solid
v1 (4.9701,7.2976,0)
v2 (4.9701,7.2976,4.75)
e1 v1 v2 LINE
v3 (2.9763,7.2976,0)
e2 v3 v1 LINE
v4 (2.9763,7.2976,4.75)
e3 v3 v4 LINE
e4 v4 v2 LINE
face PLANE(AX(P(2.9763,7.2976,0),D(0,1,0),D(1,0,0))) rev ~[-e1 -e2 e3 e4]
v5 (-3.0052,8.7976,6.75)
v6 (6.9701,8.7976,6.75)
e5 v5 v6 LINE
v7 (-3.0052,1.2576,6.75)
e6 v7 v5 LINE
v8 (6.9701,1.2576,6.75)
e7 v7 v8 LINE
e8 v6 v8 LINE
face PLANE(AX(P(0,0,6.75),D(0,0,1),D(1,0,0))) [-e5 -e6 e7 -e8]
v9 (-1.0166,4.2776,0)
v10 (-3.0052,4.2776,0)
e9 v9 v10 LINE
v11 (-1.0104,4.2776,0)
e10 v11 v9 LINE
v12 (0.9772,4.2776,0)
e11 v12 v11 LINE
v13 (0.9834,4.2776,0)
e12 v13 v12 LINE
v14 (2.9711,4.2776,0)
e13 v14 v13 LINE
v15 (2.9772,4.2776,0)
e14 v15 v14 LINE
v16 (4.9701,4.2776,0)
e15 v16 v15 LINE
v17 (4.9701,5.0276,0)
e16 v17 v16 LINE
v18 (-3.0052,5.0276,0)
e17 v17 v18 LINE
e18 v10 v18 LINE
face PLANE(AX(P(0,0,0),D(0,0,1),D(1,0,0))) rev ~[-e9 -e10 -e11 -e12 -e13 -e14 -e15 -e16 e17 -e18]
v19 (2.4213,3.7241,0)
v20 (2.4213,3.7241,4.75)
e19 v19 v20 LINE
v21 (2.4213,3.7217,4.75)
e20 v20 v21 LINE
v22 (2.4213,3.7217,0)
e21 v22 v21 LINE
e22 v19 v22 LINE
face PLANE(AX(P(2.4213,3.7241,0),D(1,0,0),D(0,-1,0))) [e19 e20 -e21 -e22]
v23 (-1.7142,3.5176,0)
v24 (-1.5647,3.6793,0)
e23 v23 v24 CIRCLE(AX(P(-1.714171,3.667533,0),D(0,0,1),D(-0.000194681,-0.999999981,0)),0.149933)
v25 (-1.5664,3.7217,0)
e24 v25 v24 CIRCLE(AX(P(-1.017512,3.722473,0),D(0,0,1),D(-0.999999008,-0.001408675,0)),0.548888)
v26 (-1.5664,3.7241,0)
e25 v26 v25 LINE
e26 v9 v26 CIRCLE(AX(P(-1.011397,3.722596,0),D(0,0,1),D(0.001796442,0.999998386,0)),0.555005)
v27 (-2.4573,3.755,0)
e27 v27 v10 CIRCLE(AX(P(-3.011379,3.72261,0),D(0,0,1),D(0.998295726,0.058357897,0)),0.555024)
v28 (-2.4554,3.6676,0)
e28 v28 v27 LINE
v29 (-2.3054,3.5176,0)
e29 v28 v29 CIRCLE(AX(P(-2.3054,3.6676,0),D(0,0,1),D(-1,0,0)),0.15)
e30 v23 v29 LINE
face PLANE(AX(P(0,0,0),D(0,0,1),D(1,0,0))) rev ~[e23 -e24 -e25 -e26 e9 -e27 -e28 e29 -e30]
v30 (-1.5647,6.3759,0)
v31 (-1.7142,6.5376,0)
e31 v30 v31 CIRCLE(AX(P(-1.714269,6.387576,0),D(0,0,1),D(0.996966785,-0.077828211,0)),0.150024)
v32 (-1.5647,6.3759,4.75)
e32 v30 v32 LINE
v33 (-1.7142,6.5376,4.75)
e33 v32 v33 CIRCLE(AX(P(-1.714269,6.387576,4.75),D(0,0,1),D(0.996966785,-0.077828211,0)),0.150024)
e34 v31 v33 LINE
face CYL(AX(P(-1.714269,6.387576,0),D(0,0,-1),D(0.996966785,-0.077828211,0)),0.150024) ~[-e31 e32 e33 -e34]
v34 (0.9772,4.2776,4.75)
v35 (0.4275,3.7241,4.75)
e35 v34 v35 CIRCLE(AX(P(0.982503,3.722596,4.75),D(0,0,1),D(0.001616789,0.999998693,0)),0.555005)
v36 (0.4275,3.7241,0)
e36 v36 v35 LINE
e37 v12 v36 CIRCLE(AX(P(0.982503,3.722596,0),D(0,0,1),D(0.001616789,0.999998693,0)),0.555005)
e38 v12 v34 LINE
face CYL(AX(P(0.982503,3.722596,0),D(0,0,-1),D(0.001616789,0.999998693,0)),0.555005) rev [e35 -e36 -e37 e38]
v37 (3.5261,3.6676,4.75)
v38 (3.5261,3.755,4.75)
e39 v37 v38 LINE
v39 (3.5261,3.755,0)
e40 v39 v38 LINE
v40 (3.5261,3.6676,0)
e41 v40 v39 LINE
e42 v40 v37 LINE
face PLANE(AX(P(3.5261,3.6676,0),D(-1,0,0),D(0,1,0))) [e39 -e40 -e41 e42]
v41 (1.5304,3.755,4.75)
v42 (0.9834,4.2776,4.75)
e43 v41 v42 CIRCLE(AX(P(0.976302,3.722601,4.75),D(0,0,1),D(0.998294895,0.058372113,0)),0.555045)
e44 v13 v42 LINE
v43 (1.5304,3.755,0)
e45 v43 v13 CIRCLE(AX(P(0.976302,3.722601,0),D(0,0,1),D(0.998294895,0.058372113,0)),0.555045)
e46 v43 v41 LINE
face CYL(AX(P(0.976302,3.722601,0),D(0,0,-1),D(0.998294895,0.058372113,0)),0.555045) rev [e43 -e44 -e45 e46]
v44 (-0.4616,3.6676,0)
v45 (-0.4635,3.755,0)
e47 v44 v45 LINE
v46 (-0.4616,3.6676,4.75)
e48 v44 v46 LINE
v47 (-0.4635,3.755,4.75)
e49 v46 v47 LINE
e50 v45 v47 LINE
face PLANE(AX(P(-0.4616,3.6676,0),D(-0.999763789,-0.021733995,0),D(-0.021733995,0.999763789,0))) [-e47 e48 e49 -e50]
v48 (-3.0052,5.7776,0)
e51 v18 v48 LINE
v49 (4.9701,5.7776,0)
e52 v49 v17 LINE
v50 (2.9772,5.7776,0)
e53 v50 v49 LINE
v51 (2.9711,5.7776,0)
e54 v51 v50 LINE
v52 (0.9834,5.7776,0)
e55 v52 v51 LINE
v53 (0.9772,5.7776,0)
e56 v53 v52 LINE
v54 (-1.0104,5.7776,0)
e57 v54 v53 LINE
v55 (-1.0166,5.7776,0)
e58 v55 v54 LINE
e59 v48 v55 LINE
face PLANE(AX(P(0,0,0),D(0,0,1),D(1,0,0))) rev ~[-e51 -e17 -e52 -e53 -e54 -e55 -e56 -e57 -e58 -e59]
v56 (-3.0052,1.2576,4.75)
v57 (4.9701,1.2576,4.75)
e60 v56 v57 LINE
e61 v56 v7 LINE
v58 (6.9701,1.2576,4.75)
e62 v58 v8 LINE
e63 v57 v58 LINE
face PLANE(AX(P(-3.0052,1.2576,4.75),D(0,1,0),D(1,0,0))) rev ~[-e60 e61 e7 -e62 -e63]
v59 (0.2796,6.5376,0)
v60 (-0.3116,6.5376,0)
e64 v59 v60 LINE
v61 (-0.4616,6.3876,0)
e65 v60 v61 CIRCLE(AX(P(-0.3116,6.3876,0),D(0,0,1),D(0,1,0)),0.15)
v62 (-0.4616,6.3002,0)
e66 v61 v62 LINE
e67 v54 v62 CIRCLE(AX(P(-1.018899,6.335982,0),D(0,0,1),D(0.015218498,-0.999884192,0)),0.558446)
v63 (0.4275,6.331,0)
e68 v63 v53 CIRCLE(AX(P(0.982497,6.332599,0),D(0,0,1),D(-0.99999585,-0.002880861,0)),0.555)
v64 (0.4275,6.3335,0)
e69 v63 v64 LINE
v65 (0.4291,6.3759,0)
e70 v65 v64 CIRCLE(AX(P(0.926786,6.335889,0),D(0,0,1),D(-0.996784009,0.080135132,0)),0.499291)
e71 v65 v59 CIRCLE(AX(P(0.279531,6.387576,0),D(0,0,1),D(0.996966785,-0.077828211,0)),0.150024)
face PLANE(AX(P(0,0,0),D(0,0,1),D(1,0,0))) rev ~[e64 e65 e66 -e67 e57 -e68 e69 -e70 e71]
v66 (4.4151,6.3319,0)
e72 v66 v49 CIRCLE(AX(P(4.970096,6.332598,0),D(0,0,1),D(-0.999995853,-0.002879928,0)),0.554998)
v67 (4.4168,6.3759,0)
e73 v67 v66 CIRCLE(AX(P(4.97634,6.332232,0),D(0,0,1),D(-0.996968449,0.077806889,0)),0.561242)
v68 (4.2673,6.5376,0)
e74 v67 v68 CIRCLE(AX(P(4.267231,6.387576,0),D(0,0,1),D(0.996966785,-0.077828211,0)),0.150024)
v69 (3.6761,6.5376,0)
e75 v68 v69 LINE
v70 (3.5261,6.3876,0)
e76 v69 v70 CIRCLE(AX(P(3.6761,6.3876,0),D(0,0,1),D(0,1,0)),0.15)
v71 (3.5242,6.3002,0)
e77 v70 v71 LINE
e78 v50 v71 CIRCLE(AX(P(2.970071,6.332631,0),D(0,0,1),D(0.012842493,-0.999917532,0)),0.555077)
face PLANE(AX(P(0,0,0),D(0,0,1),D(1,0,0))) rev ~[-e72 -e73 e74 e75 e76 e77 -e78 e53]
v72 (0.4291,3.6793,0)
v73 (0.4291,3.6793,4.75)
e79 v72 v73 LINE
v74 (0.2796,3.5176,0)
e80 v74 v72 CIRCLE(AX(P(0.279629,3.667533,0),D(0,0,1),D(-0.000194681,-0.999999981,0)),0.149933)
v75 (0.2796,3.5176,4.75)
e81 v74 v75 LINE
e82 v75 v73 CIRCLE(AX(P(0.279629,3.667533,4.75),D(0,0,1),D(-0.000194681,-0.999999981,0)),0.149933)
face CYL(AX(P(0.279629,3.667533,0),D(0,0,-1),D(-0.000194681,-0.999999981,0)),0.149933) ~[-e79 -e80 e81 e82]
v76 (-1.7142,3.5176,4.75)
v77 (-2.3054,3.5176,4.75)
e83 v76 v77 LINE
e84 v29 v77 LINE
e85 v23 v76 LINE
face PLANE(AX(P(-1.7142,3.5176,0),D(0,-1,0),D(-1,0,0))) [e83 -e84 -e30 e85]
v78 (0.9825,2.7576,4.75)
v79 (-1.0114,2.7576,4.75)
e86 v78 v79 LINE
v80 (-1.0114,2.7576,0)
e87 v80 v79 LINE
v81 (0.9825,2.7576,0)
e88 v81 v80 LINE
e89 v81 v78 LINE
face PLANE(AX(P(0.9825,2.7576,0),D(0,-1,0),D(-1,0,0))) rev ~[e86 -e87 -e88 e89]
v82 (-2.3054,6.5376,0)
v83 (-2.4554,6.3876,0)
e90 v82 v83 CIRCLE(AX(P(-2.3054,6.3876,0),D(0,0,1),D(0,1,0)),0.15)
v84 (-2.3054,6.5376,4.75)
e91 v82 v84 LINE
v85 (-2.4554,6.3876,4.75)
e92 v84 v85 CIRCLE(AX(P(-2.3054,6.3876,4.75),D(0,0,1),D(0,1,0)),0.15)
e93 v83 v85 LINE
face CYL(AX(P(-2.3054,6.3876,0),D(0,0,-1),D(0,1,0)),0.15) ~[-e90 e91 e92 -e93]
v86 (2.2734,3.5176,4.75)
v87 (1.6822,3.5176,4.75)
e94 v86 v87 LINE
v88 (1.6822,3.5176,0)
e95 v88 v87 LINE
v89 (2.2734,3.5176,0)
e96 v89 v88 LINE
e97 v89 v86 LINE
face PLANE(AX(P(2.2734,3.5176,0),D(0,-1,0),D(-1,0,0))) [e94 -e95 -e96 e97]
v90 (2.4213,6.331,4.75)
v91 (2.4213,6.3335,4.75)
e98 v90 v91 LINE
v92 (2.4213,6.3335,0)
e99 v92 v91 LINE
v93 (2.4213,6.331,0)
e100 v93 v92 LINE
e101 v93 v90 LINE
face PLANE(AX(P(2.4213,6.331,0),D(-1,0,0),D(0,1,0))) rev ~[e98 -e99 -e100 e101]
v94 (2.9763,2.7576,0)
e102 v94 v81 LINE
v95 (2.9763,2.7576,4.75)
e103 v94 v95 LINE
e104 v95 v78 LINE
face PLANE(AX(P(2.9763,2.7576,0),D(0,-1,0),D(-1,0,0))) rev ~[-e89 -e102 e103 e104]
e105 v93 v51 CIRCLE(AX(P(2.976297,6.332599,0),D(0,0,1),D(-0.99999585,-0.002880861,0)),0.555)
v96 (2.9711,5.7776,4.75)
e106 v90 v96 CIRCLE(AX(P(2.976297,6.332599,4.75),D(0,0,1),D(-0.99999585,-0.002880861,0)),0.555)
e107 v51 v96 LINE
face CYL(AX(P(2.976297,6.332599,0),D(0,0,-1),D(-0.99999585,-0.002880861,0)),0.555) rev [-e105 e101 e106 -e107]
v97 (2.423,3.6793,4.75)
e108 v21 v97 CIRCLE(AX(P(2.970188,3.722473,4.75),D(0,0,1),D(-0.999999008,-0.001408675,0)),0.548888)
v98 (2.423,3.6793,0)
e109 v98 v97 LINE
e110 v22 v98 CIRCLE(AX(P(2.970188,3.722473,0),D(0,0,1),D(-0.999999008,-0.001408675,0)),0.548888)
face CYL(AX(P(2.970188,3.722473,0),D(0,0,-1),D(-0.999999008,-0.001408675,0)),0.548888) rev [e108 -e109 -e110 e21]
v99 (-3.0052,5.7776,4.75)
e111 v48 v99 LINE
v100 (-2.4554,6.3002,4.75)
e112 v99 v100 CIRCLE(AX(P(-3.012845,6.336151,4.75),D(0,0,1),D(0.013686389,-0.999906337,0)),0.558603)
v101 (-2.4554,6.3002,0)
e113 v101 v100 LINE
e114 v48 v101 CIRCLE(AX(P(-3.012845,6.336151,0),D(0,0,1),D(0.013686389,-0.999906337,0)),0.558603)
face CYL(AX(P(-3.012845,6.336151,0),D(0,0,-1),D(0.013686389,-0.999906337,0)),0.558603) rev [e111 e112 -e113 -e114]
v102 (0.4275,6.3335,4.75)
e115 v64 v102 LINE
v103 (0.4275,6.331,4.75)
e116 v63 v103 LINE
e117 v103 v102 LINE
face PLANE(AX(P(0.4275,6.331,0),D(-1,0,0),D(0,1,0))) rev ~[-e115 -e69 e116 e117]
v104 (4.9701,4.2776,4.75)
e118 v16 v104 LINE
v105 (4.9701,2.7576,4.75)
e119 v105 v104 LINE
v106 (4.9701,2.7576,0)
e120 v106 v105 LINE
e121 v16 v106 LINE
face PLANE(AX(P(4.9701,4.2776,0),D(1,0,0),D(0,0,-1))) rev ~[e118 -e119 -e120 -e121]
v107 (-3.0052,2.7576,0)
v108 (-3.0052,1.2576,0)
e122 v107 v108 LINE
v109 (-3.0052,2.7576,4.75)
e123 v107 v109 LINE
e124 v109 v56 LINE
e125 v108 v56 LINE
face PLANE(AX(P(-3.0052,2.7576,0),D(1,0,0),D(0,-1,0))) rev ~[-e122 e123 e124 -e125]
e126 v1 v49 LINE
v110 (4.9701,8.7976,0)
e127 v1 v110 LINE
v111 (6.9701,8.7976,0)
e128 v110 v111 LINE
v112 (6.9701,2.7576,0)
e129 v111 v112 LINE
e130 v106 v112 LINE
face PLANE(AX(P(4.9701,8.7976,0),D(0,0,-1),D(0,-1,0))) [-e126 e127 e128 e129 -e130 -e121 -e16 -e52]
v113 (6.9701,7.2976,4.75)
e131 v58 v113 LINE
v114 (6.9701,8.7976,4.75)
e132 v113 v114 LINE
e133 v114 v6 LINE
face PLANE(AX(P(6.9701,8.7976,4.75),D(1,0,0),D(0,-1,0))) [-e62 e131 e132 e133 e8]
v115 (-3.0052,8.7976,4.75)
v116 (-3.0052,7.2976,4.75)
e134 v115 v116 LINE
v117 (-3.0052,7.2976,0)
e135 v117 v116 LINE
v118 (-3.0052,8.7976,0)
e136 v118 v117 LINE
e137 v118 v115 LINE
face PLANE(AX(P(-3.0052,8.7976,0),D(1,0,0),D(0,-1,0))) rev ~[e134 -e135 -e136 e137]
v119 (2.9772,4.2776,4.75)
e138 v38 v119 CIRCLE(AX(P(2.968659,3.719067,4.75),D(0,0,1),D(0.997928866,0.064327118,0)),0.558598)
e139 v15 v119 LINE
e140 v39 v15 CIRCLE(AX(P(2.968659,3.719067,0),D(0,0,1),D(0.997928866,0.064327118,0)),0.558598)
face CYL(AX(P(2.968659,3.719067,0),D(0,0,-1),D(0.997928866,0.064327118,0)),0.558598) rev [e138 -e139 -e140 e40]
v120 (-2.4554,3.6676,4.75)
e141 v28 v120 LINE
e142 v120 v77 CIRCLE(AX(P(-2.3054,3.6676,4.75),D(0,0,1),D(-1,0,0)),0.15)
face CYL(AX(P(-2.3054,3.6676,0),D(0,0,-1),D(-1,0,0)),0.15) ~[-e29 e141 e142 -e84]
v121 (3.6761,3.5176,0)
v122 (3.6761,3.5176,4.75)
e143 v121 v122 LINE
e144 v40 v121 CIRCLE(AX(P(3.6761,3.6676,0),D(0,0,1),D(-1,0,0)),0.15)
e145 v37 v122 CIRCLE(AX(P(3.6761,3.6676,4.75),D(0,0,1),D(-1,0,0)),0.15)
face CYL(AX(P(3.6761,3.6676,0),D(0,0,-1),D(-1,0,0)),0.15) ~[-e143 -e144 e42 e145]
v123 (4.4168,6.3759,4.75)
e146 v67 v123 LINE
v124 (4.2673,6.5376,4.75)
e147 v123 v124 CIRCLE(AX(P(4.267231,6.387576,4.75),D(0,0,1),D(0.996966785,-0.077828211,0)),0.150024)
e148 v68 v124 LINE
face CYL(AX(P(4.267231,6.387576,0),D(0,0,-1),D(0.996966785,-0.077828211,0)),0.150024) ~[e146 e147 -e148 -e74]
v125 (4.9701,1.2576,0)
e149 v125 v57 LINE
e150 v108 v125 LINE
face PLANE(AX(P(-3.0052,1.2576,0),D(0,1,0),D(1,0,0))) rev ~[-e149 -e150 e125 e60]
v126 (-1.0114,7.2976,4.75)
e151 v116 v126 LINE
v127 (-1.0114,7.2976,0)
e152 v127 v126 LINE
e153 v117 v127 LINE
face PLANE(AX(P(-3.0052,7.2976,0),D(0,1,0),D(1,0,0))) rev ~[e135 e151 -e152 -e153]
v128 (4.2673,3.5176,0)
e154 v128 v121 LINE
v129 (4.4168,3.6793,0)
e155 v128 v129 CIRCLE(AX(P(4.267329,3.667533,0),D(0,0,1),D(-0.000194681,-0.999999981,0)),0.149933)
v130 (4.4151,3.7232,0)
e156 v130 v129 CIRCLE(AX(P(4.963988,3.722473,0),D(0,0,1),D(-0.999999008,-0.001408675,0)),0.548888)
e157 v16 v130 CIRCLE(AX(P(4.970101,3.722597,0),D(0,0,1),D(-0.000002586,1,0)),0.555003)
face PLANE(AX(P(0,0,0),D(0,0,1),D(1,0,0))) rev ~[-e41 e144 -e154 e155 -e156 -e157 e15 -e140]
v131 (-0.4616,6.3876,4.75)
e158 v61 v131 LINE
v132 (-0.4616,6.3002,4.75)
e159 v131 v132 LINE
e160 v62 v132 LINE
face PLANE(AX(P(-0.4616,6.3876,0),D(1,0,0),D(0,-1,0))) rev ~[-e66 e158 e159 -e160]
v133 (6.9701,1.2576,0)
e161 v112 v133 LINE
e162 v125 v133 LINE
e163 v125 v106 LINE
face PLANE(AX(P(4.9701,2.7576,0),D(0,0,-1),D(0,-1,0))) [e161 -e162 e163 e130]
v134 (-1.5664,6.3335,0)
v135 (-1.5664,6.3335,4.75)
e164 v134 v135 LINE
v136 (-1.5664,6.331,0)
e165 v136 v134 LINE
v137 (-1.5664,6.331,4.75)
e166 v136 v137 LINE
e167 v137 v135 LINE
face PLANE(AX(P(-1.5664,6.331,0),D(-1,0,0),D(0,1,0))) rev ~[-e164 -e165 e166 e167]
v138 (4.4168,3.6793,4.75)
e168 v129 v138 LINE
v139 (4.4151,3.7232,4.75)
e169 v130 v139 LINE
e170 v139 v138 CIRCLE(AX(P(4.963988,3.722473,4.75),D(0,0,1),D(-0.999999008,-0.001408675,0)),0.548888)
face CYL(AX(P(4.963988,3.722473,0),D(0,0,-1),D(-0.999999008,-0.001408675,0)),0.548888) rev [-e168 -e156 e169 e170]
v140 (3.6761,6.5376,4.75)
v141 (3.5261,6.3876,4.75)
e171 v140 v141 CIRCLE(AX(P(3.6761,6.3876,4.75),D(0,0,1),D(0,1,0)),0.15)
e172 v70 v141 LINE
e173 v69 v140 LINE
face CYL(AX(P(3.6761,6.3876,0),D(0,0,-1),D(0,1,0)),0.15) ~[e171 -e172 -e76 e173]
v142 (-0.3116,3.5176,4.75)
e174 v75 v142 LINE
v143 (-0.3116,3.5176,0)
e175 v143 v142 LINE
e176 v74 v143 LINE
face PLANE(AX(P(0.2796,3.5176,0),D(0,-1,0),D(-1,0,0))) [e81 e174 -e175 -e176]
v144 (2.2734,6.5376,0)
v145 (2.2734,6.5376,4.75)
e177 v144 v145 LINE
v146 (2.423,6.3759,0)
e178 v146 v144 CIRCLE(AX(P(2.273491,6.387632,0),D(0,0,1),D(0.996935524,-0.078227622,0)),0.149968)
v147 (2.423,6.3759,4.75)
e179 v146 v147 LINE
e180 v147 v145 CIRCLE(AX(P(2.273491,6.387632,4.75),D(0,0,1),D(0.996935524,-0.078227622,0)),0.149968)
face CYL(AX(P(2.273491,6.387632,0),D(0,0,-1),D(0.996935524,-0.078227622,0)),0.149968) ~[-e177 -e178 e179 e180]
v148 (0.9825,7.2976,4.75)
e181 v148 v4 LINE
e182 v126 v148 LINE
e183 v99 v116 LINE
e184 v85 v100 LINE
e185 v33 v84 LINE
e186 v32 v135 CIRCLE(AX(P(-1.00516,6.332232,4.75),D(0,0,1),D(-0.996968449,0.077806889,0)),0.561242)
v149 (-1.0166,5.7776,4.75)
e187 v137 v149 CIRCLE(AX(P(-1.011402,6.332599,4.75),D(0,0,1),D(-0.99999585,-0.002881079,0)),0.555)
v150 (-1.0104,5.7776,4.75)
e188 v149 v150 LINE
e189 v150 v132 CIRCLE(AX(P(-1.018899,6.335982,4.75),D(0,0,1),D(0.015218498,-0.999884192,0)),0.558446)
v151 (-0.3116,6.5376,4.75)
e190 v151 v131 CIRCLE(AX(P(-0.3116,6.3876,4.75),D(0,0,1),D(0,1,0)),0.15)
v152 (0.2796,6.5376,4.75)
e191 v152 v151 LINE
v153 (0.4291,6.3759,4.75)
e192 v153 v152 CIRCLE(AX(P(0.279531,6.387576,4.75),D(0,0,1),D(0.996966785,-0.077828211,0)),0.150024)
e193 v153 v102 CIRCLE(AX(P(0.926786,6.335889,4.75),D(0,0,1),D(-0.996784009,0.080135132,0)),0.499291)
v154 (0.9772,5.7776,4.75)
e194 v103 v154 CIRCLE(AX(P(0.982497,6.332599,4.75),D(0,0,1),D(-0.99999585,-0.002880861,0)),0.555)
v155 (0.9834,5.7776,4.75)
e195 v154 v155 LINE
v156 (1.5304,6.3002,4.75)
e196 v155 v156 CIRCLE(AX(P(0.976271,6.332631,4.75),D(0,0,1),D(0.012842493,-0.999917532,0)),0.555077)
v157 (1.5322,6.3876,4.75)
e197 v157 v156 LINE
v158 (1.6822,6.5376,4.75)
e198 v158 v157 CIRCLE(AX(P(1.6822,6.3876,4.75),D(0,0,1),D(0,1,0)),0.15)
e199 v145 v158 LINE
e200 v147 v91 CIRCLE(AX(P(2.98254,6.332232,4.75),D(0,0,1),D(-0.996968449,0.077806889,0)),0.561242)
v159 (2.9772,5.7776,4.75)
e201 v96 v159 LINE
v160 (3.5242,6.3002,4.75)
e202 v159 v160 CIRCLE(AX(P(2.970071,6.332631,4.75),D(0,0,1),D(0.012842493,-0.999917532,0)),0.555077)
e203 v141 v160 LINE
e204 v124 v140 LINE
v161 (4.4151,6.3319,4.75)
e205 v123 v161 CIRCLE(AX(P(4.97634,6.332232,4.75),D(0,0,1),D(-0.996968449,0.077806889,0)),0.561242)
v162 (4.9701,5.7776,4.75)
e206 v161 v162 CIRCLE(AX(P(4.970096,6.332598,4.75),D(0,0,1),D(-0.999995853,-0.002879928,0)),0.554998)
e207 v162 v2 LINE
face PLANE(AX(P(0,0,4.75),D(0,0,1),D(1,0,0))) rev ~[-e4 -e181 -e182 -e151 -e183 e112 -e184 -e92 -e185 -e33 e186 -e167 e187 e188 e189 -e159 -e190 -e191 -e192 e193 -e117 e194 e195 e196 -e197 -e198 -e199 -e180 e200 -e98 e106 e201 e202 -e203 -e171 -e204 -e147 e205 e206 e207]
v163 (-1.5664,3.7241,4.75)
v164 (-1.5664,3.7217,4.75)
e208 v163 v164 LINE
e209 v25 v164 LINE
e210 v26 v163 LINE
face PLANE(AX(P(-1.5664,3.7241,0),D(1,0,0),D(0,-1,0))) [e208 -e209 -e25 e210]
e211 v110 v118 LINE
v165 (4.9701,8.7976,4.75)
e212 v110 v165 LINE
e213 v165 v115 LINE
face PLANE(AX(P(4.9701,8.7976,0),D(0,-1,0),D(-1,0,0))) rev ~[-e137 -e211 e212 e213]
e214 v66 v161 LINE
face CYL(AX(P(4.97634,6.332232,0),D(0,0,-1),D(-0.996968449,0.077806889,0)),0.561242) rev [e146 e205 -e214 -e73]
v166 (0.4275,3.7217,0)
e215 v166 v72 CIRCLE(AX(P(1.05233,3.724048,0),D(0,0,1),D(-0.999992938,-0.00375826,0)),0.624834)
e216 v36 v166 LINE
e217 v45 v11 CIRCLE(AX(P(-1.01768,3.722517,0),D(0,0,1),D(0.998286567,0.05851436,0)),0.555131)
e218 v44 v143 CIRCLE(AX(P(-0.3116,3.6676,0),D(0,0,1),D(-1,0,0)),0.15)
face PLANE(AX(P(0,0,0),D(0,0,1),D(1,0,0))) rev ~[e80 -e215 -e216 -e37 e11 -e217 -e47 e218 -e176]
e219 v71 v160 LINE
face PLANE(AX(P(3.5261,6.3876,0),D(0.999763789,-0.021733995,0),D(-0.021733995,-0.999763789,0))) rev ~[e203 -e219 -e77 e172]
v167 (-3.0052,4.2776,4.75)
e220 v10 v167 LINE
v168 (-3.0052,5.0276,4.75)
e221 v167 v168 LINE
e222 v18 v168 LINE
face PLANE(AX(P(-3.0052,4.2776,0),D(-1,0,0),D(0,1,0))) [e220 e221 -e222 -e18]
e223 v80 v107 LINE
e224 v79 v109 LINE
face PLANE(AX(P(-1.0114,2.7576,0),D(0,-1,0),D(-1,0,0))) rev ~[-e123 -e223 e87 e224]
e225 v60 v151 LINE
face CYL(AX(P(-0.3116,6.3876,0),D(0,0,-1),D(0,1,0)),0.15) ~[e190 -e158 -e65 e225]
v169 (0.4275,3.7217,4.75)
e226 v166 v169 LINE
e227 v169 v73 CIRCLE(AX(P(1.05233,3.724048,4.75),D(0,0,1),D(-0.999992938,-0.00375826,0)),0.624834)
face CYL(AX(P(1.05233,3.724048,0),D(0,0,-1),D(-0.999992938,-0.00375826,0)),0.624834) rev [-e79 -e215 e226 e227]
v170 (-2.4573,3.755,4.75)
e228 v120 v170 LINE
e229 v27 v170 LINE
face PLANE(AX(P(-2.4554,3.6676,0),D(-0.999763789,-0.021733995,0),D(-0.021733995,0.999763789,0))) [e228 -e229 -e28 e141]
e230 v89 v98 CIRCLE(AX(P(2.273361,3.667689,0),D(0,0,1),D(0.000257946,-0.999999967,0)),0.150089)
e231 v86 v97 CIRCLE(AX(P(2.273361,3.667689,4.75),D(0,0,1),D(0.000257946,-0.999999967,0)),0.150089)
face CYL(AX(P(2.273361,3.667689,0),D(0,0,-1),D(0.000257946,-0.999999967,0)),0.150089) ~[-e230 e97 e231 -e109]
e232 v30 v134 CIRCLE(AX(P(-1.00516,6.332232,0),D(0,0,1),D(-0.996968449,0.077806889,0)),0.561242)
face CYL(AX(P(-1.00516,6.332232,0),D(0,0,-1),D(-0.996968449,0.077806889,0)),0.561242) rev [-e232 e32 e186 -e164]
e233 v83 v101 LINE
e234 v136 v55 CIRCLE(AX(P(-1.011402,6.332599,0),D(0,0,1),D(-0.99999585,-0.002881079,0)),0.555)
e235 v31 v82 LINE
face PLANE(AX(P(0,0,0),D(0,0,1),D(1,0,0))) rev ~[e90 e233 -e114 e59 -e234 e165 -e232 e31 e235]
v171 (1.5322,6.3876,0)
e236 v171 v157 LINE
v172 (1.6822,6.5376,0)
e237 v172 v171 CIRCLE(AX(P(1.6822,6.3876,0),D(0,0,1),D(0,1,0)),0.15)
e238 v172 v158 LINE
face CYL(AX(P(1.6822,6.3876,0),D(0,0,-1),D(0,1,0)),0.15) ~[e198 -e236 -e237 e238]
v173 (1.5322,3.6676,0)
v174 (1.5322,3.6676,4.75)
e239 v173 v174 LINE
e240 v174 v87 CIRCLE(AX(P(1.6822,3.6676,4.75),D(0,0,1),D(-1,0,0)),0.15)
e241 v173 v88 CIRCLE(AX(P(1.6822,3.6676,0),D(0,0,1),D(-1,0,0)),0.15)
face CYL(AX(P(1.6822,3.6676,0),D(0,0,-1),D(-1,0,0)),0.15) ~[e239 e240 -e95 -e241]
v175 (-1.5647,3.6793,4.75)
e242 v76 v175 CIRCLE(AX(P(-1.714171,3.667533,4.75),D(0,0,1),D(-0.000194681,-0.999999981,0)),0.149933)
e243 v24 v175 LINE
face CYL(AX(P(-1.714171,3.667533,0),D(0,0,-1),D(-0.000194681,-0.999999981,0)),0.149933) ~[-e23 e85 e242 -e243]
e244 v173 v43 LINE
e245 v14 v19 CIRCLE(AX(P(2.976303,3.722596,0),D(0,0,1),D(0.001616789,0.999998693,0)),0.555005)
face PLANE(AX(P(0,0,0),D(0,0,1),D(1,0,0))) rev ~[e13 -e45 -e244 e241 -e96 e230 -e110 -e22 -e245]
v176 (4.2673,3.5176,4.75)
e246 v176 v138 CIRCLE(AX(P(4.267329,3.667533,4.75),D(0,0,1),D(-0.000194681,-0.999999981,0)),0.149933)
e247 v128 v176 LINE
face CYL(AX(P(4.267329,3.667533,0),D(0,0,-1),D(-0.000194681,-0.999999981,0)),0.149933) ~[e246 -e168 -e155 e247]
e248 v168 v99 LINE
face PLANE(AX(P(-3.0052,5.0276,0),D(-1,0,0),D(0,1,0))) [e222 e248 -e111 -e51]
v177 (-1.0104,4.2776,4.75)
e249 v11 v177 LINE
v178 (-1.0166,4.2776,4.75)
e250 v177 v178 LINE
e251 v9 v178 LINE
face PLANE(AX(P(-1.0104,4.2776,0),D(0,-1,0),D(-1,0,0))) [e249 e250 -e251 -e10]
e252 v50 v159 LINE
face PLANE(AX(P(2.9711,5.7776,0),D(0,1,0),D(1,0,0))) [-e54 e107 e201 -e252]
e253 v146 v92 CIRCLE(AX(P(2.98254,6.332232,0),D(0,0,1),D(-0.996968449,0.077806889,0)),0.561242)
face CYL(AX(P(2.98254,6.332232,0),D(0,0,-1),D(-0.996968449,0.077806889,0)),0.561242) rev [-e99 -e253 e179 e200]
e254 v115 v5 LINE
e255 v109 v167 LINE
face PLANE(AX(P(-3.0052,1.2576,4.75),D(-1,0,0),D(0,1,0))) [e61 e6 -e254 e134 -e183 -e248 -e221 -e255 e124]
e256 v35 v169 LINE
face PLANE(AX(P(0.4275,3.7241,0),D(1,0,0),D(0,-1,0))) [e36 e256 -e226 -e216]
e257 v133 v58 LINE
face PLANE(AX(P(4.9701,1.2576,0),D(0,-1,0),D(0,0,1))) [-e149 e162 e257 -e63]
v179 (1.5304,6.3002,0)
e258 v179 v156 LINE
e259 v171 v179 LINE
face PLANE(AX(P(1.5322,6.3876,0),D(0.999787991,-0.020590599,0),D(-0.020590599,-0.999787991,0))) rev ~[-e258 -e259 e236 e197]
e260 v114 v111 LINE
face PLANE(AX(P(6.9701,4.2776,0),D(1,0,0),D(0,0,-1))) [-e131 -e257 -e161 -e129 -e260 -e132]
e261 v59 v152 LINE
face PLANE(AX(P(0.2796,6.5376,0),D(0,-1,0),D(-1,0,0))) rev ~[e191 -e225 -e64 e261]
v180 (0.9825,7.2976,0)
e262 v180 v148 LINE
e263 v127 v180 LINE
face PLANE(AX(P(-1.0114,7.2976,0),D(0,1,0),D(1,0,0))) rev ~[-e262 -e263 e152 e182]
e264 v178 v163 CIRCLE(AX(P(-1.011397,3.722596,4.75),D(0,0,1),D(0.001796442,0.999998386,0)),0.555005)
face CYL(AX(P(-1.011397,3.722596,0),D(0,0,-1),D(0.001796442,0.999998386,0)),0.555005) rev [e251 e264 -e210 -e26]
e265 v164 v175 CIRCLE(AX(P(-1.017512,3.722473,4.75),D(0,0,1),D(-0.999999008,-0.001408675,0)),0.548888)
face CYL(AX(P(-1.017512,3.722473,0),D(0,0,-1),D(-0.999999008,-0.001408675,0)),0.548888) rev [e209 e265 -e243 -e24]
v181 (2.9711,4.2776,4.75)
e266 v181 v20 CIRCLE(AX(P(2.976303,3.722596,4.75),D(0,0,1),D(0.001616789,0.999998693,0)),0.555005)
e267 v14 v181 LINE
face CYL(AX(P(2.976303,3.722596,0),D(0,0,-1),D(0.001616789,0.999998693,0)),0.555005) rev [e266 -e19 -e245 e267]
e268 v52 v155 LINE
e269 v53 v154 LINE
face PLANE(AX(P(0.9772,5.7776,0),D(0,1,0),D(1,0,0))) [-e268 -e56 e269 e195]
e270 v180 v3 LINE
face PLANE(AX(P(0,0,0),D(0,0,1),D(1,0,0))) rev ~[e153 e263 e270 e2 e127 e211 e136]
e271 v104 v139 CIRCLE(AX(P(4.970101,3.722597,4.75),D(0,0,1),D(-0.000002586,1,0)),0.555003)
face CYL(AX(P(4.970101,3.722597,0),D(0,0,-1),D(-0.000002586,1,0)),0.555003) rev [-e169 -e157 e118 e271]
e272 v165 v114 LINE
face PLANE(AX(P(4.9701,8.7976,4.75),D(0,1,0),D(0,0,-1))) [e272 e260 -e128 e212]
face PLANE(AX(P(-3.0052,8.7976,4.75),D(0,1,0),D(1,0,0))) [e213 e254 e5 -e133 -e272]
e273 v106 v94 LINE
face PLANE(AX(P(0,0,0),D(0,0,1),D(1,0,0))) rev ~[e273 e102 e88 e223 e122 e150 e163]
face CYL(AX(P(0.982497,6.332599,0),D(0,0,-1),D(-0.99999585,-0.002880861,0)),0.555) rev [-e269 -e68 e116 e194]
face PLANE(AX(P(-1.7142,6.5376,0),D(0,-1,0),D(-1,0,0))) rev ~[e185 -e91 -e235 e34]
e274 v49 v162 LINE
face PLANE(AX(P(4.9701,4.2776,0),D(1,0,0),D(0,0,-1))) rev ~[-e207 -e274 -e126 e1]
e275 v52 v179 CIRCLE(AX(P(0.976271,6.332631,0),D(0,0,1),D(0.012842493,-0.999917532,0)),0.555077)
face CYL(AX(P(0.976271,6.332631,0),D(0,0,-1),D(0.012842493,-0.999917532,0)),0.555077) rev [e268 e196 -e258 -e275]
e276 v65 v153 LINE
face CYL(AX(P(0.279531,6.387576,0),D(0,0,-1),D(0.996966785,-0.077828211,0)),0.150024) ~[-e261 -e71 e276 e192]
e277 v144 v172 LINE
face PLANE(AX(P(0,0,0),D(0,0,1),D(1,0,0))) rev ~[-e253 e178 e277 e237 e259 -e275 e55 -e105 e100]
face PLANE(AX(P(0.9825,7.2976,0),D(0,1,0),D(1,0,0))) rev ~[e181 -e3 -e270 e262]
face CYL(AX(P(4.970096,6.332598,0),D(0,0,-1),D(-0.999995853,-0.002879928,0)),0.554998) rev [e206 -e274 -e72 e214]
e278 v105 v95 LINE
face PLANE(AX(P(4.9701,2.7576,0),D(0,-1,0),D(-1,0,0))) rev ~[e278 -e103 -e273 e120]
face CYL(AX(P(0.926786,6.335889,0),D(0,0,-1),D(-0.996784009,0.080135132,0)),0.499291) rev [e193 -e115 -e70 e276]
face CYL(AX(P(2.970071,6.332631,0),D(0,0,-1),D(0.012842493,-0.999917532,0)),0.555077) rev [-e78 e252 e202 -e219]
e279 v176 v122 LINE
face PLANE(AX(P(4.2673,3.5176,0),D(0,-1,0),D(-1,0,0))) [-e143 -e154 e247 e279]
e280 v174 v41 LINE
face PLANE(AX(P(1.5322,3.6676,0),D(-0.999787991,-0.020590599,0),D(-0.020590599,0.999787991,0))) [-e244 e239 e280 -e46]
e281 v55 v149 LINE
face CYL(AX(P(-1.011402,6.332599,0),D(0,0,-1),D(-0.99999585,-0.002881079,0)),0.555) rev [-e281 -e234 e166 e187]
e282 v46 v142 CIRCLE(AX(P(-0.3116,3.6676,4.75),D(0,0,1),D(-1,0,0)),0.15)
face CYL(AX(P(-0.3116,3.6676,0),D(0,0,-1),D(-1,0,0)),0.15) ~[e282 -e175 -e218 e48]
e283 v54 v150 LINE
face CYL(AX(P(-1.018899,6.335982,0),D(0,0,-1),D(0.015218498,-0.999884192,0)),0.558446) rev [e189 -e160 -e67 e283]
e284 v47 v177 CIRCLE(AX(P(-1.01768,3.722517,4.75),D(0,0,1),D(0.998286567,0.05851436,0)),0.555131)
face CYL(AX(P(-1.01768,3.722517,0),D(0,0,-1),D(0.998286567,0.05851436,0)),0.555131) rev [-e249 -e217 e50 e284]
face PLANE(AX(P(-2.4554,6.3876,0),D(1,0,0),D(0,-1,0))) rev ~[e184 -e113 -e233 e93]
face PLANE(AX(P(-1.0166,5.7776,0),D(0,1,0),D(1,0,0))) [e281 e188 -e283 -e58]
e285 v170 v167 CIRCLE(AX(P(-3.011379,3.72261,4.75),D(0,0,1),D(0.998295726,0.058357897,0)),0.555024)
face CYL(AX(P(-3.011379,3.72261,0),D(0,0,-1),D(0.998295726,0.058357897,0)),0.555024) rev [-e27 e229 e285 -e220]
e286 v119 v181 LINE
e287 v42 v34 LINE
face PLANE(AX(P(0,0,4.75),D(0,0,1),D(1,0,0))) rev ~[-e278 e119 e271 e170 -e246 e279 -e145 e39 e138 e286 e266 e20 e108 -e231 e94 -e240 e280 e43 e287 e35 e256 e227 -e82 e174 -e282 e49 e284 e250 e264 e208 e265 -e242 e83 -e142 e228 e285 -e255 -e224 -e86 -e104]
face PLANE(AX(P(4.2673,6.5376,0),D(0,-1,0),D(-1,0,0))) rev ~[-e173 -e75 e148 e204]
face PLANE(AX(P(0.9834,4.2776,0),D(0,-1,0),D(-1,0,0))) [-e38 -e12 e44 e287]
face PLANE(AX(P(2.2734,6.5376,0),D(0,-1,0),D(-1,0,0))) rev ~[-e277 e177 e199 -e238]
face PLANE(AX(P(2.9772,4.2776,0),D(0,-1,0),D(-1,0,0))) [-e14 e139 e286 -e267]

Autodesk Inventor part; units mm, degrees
ref_plane "YZ Plane" through (0, 0, 0) normal (1, 0, 0) x (0, 1, 0)
ref_plane "XZ Plane" through (0, 0, 0) normal (0, 1, 0) x (-1, 0, 0)
ref_plane "XY Plane" through (0, 0, 0) normal (0, 0, 1) x (1, 0, 0)
sketch "Эскиз1" plane through (0, 0, 0) normal (0, 0, 1) x (1, 0, 0)
  line L0 (4.9701, 7.2976) -> (4.9701, 8.7976)
  line L1 (4.9701, 8.7976) -> (-3.0052, 8.7976)
  line L2 (-3.0052, 7.2976) -> (4.9701, 7.2976)
  line L3 (-3.0052, 8.7976) -> (-3.0052, 7.2976)
  line L4 (-3.0052, 5.7776) -> (4.9701, 5.7776)
  line L5 (4.9701, 5.7776) -> (4.9701, 4.2776)
  line L6 (4.9701, 4.2776) -> (-3.0052, 4.2776)
  line L7 (-3.0052, 4.2776) -> (-3.0052, 5.7776)
  line L8 (4.9701, 5.0276) -> (-5.8657, 5.0276)
  arc A0 (-3.0052, 2.7576) -> (-2.4573, 3.2802) centre (-3.0114, 3.3126) ccw
  line L9 (-3.0052, 2.7576) -> (-3.0104, 4.0302)
  line L10 (-3.0104, 4.0302) -> (-3.0104, 4.2776)
  line L11 (-1.0104, 4.2776) -> (-1.0104, 3.8676)
  arc A1 (-1.0104, 3.8676) -> (-1.0114, 3.8676) centre (-1.0114, 3.3126) ccw
  line L12 (-1.0114, 3.8676) -> (-1.0114, 2.7576)
  arc A2 (-1.5664, 3.311) -> (-1.0114, 2.7576) centre (-1.0114, 3.3126) ccw
  line L13 (-1.5664, 3.311) -> (-1.5664, 3.3135)
  arc A3 (-1.5647, 3.3559) -> (-1.5664, 3.3135) centre (-1.0114, 3.3126) ccw
  arc A4 (-1.5647, 3.3559) -> (-1.7142, 3.5176) centre (-1.7142, 3.3676) ccw
  line L14 (-1.7142, 3.5176) -> (-2.3054, 3.5176)
  arc A5 (-2.3054, 3.5176) -> (-2.4554, 3.3676) centre (-2.3054, 3.3676) ccw
  line L15 (-2.4554, 3.3676) -> (-2.4554, 3.2802)
  line L16 (-2.4554, 3.2802) -> (-2.4573, 3.2802)
  arc A6 (-1.0114, 2.7576) -> (-0.4635, 3.2802) centre (-1.0175, 3.3126) ccw
  line L17 (-1.0114, 2.7576) -> (-1.0166, 4.0302)
  line L18 (-1.0166, 4.0302) -> (-1.0166, 4.2776)
  line L19 (0.9834, 4.2776) -> (0.9834, 3.8676)
  arc A7 (0.9834, 3.8676) -> (0.9825, 3.8676) centre (0.9825, 3.3126) ccw
  line L20 (0.9825, 3.8676) -> (0.9825, 2.7576)
  arc A8 (0.4275, 3.311) -> (0.9825, 2.7576) centre (0.9825, 3.3126) ccw
  line L21 (0.4275, 3.311) -> (0.4275, 3.3135)
  arc A9 (0.4291, 3.3559) -> (0.4275, 3.3135) centre (0.9825, 3.3126) ccw
  arc A10 (0.4291, 3.3559) -> (0.2796, 3.5176) centre (0.2796, 3.3676) ccw
  line L22 (0.2796, 3.5176) -> (-0.3116, 3.5176)
  arc A11 (-0.3116, 3.5176) -> (-0.4616, 3.3676) centre (-0.3116, 3.3676) ccw
  line L23 (-0.4616, 3.3676) -> (-0.4616, 3.2802)
  line L24 (-0.4616, 3.2802) -> (-0.4635, 3.2802)
  arc A12 (0.9825, 2.7576) -> (1.5304, 3.2802) centre (0.9763, 3.3126) ccw
  line L25 (0.9825, 2.7576) -> (0.9772, 4.0302)
  line L26 (0.9772, 4.0302) -> (0.9772, 4.2776)
  line L27 (2.9772, 4.2776) -> (2.9772, 3.8676)
  arc A13 (2.9772, 3.8676) -> (2.9763, 3.8676) centre (2.9763, 3.3126) ccw
  line L28 (2.9763, 3.8676) -> (2.9763, 2.7576)
  arc A14 (2.4213, 3.311) -> (2.9763, 2.7576) centre (2.9763, 3.3126) ccw
  line L29 (2.4213, 3.311) -> (2.4213, 3.3135)
  arc A15 (2.423, 3.3559) -> (2.4213, 3.3135) centre (2.9763, 3.3126) ccw
  arc A16 (2.423, 3.3559) -> (2.2734, 3.5176) centre (2.2734, 3.3676) ccw
  line L30 (2.2734, 3.5176) -> (1.6822, 3.5176)
  arc A17 (1.6822, 3.5176) -> (1.5322, 3.3676) centre (1.6822, 3.3676) ccw
  line L31 (1.5322, 3.3676) -> (1.5322, 3.2802)
  line L32 (1.5322, 3.2802) -> (1.5304, 3.2802)
  arc A18 (2.9763, 2.7576) -> (3.5242, 3.2802) centre (2.9701, 3.3126) ccw
  line L33 (2.9763, 2.7576) -> (2.9711, 4.0302)
  line L34 (2.9711, 4.0302) -> (2.9711, 4.2776)
  line L35 (4.9711, 4.2776) -> (4.9711, 3.8676)
  arc A19 (4.9711, 3.8676) -> (4.9701, 3.8676) centre (4.9701, 3.3126) ccw
  line L36 (4.9701, 3.8676) -> (4.9701, 2.7576)
  arc A20 (4.4151, 3.311) -> (4.9701, 2.7576) centre (4.9701, 3.3126) ccw
  line L37 (4.4151, 3.311) -> (4.4151, 3.3135)
  arc A21 (4.4168, 3.3559) -> (4.4151, 3.3135) centre (4.9701, 3.3126) ccw
  arc A22 (4.4168, 3.3559) -> (4.2673, 3.5176) centre (4.2673, 3.3676) ccw
  line L38 (4.2673, 3.5176) -> (3.6761, 3.5176)
  arc A23 (3.6761, 3.5176) -> (3.5261, 3.3676) centre (3.6761, 3.3676) ccw
  line L39 (3.5261, 3.3676) -> (3.5261, 3.2802)
  line L40 (3.5261, 3.2802) -> (3.5242, 3.2802)
  line L41 (4.9701, 2.7576) -> (-3.0052, 2.7576)
  line L42 (-3.0052, 2.7576) -> (-3.0052, 1.2576)
  line L43 (-3.0052, 1.2576) -> (4.9701, 1.2576)
  line L44 (4.9701, 1.2576) -> (4.9701, 2.7576)
  line L45 (-2.3054, 3.5176) -> (5.394, 3.5176)
  line L46 (4.9701, 3.7226) -> (4.3774, 3.7226)
  arc A24 (-0.4635, 3.755) -> (-1.0114, 4.2776) centre (-1.0175, 3.7226) ccw
  line L47 (0.9825, 4.2776) -> (0.9772, 3.005)
  line L48 (0.9825, 3.1676) -> (0.9825, 4.2776)
  line L49 (-1.0114, 4.2776) -> (-1.0166, 3.005)
  arc A25 (-2.4573, 3.755) -> (-3.0052, 4.2776) centre (-3.0114, 3.7226) ccw
  line L50 (-1.0114, 3.1676) -> (-1.0114, 4.2776)
  arc A26 (-1.5664, 3.7217) -> (-1.5647, 3.6793) centre (-1.0114, 3.7226) ccw
  line L51 (-1.5664, 3.7241) -> (-1.5664, 3.7217)
  arc A27 (-1.0114, 4.2776) -> (-1.5664, 3.7241) centre (-1.0114, 3.7226) ccw
  arc A28 (-1.7142, 3.5176) -> (-1.5647, 3.6793) centre (-1.7142, 3.6676) ccw
  arc A29 (1.5304, 3.755) -> (0.9825, 4.2776) centre (0.9763, 3.7226) ccw
  arc A30 (2.4213, 3.7217) -> (2.423, 3.6793) centre (2.9763, 3.7226) ccw
  arc A31 (2.9763, 4.2776) -> (2.4213, 3.7241) centre (2.9763, 3.7226) ccw
  line L52 (2.9763, 4.2776) -> (2.9711, 3.005)
  arc A32 (-2.4554, 3.6676) -> (-2.3054, 3.5176) centre (-2.3054, 3.6676) ccw
  line L53 (-2.4554, 3.6676) -> (-2.4554, 3.755)
  line L54 (-2.4554, 3.755) -> (-2.4573, 3.755)
  arc A33 (0.9825, 4.2776) -> (0.4275, 3.7241) centre (0.9825, 3.7226) ccw
  line L55 (0.4275, 3.7241) -> (0.4275, 3.7217)
  arc A34 (0.4275, 3.7217) -> (0.4291, 3.6793) centre (0.9825, 3.7226) ccw
  arc A35 (-0.4616, 3.6676) -> (-0.3116, 3.5176) centre (-0.3116, 3.6676) ccw
  line L56 (-0.4616, 3.755) -> (-0.4635, 3.755)
  arc A36 (0.2796, 3.5176) -> (0.4291, 3.6793) centre (0.2796, 3.6676) ccw
  line L57 (2.9763, 3.1676) -> (2.9763, 4.2776)
  line L58 (3.5261, 3.755) -> (3.5242, 3.755)
  line L59 (3.5261, 3.6676) -> (3.5261, 3.755)
  arc A37 (3.5261, 3.6676) -> (3.6761, 3.5176) centre (3.6761, 3.6676) ccw
  arc A38 (3.5242, 3.755) -> (2.9763, 4.2776) centre (2.9701, 3.7226) ccw
  arc A39 (4.9701, 4.2776) -> (4.4151, 3.7241) centre (4.9701, 3.7226) ccw
  line L60 (-0.4616, 3.6676) -> (-0.4616, 3.755)
  arc A40 (2.2734, 3.5176) -> (2.423, 3.6793) centre (2.2734, 3.6676) ccw
  line L61 (2.4213, 3.7241) -> (2.4213, 3.7217)
  line L62 (4.4151, 3.7241) -> (4.4151, 3.7217)
  arc A41 (4.4151, 3.7217) -> (4.4168, 3.6793) centre (4.9701, 3.7226) ccw
  arc A42 (1.5322, 3.6676) -> (1.6822, 3.5176) centre (1.6822, 3.6676) ccw
  line L63 (1.5322, 3.755) -> (1.5304, 3.755)
  arc A43 (4.2673, 3.5176) -> (4.4168, 3.6793) centre (4.2673, 3.6676) ccw
  line L64 (1.5322, 3.6676) -> (1.5322, 3.755)
  line L65 (4.9701, 3.3126) -> (4.3774, 3.3126)
  line L66 (4.9701, 4.2776) -> (4.9701, 5.7776)
  line L67 (4.9701, 5.7776) -> (-3.0052, 5.7776)
  line L68 (-3.0052, 5.7776) -> (-3.0052, 4.2776)
  arc A44 (-1.0114, 6.1876) -> (-1.0104, 6.1876) centre (-1.0114, 6.7426) ccw
  arc A45 (-0.4635, 6.775) -> (-1.0114, 7.2976) centre (-1.0175, 6.7426) ccw
  line L69 (0.9825, 7.2976) -> (0.9772, 6.025)
  line L70 (0.9825, 6.1876) -> (0.9825, 7.2976)
  line L71 (0.9772, 6.025) -> (0.9772, 5.7776)
  line L72 (-1.0104, 5.7776) -> (-1.0104, 6.1876)
  line L73 (-1.0114, 7.2976) -> (-1.0166, 6.025)
  line L74 (-1.0166, 6.025) -> (-1.0166, 5.7776)
  line L75 (-3.0104, 6.025) -> (-3.0104, 5.7776)
  line L76 (-3.0052, 7.2976) -> (-3.0104, 6.025)
  arc A46 (-2.4573, 6.775) -> (-3.0052, 7.2976) centre (-3.0114, 6.7426) ccw
  line L77 (-1.0114, 6.1876) -> (-1.0114, 7.2976)
  arc A47 (-1.5664, 6.7417) -> (-1.5647, 6.6993) centre (-1.0114, 6.7426) ccw
  line L78 (-1.5664, 6.7441) -> (-1.5664, 6.7417)
  arc A48 (-1.0114, 7.2976) -> (-1.5664, 6.7441) centre (-1.0114, 6.7426) ccw
  arc A49 (-1.7142, 6.5376) -> (-1.5647, 6.6993) centre (-1.7142, 6.6876) ccw
  line L79 (0.9834, 5.7776) -> (0.9834, 6.1876)
  arc A50 (0.9825, 6.1876) -> (0.9834, 6.1876) centre (0.9825, 6.7426) ccw
  arc A51 (1.5304, 6.775) -> (0.9825, 7.2976) centre (0.9763, 6.7426) ccw
  arc A52 (2.4213, 6.7417) -> (2.423, 6.6993) centre (2.9763, 6.7426) ccw
  arc A53 (2.9763, 7.2976) -> (2.4213, 6.7441) centre (2.9763, 6.7426) ccw
  line L80 (2.9763, 7.2976) -> (2.9711, 6.025)
  line L81 (2.9772, 5.7776) -> (2.9772, 6.1876)
  line L82 (2.9711, 6.025) -> (2.9711, 5.7776)
  line L83 (-1.7142, 6.5376) -> (-2.3054, 6.5376)
  arc A54 (-2.4554, 6.6876) -> (-2.3054, 6.5376) centre (-2.3054, 6.6876) ccw
  line L84 (-2.4554, 6.6876) -> (-2.4554, 6.775)
  line L85 (-2.4554, 6.775) -> (-2.4573, 6.775)
  arc A55 (0.9825, 7.2976) -> (0.4275, 6.7441) centre (0.9825, 6.7426) ccw
  line L86 (0.4275, 6.7441) -> (0.4275, 6.7417)
  arc A56 (0.4275, 6.7417) -> (0.4291, 6.6993) centre (0.9825, 6.7426) ccw
  line L87 (0.2796, 6.5376) -> (-0.3116, 6.5376)
  arc A57 (-0.4616, 6.6876) -> (-0.3116, 6.5376) centre (-0.3116, 6.6876) ccw
  line L88 (-0.4616, 6.775) -> (-0.4635, 6.775)
  arc A58 (0.2796, 6.5376) -> (0.4291, 6.6993) centre (0.2796, 6.6876) ccw
  line L89 (2.9763, 6.1876) -> (2.9763, 7.2976)
  line L90 (3.5261, 6.775) -> (3.5242, 6.775)
  line L91 (3.5261, 6.6876) -> (3.5261, 6.775)
  arc A59 (3.5261, 6.6876) -> (3.6761, 6.5376) centre (3.6761, 6.6876) ccw
  arc A60 (3.5242, 6.775) -> (2.9763, 7.2976) centre (2.9701, 6.7426) ccw
  line L92 (4.2673, 6.5376) -> (3.6761, 6.5376)
  arc A61 (4.9701, 7.2976) -> (4.4151, 6.7441) centre (4.9701, 6.7426) ccw
  line L93 (4.9711, 5.7776) -> (4.9711, 6.1876)
  line L94 (-0.4616, 6.6876) -> (-0.4616, 6.775)
  arc A62 (2.9763, 6.1876) -> (2.9772, 6.1876) centre (2.9763, 6.7426) ccw
  arc A63 (2.2734, 6.5376) -> (2.423, 6.6993) centre (2.2734, 6.6876) ccw
  line L95 (2.4213, 6.7441) -> (2.4213, 6.7417)
  line L96 (4.4151, 6.7441) -> (4.4151, 6.7417)
  arc A64 (4.4151, 6.7417) -> (4.4168, 6.6993) centre (4.9701, 6.7426) ccw
  line L97 (2.2734, 6.5376) -> (1.6822, 6.5376)
  arc A65 (1.5322, 6.6876) -> (1.6822, 6.5376) centre (1.6822, 6.6876) ccw
  line L98 (1.5322, 6.775) -> (1.5304, 6.775)
  arc A66 (4.2673, 6.5376) -> (4.4168, 6.6993) centre (4.2673, 6.6876) ccw
  arc A67 (4.9701, 6.1876) -> (4.9711, 6.1876) centre (4.9701, 6.7426) ccw
  line L99 (4.9701, 6.1876) -> (4.9701, 7.2976)
  line L100 (1.5322, 6.6876) -> (1.5322, 6.775)
  line L101 (4.9701, 7.2976) -> (-3.0052, 7.2976)
  line L102 (-3.0052, 7.2976) -> (-3.0052, 8.7976)
  line L103 (4.9701, 8.7976) -> (4.9701, 7.2976)
  line L104 (-2.3054, 6.5376) -> (5.394, 6.5376)
  line L105 (4.9701, 6.3326) -> (4.3774, 6.3326)
  line L106 (-1.5664, 6.331) -> (-1.5664, 6.3335)
  line L107 (-0.4616, 6.3002) -> (-0.4635, 6.3002)
  arc A68 (-0.3116, 6.5376) -> (-0.4616, 6.3876) centre (-0.3116, 6.3876) ccw
  arc A69 (-1.5647, 6.3759) -> (-1.5664, 6.3335) centre (-1.0114, 6.3326) ccw
  line L108 (-0.4616, 6.3876) -> (-0.4616, 6.3002)
  arc A70 (-1.0114, 5.7776) -> (-0.4635, 6.3002) centre (-1.0175, 6.3326) ccw
  arc A71 (-1.5664, 6.331) -> (-1.0114, 5.7776) centre (-1.0114, 6.3326) ccw
  arc A72 (-1.5647, 6.3759) -> (-1.7142, 6.5376) centre (-1.7142, 6.3876) ccw
  arc A73 (-2.3054, 6.5376) -> (-2.4554, 6.3876) centre (-2.3054, 6.3876) ccw
  line L109 (-2.4554, 6.3876) -> (-2.4554, 6.3002)
  line L110 (-2.4554, 6.3002) -> (-2.4573, 6.3002)
  arc A74 (-3.0052, 5.7776) -> (-2.4573, 6.3002) centre (-3.0114, 6.3326) ccw
  line L111 (0.9825, 5.7776) -> (0.9772, 7.0502)
  line L112 (0.9825, 6.8876) -> (0.9825, 5.7776)
  arc A75 (0.4291, 6.3759) -> (0.2796, 6.5376) centre (0.2796, 6.3876) ccw
  arc A76 (0.4291, 6.3759) -> (0.4275, 6.3335) centre (0.9825, 6.3326) ccw
  line L113 (0.4275, 6.331) -> (0.4275, 6.3335)
  arc A77 (0.4275, 6.331) -> (0.9825, 5.7776) centre (0.9825, 6.3326) ccw
  arc A78 (0.9825, 5.7776) -> (1.5304, 6.3002) centre (0.9763, 6.3326) ccw
  arc A79 (2.4213, 6.331) -> (2.9763, 5.7776) centre (2.9763, 6.3326) ccw
  arc A80 (2.423, 6.3759) -> (2.4213, 6.3335) centre (2.9763, 6.3326) ccw
  line L114 (1.5322, 6.3002) -> (1.5304, 6.3002)
  line L115 (1.5322, 6.3876) -> (1.5322, 6.3002)
  arc A81 (1.6822, 6.5376) -> (1.5322, 6.3876) centre (1.6822, 6.3876) ccw
  line L116 (2.4213, 6.331) -> (2.4213, 6.3335)
  arc A82 (2.423, 6.3759) -> (2.2734, 6.5376) centre (2.2734, 6.3876) ccw
  line L117 (2.9763, 5.7776) -> (2.9711, 7.0502)
  line L118 (2.9763, 6.8876) -> (2.9763, 5.7776)
  arc A83 (2.9763, 5.7776) -> (3.5242, 6.3002) centre (2.9701, 6.3326) ccw
  line L119 (3.5261, 6.3002) -> (3.5242, 6.3002)
  line L120 (3.5261, 6.3876) -> (3.5261, 6.3002)
  arc A84 (3.6761, 6.5376) -> (3.5261, 6.3876) centre (3.6761, 6.3876) ccw
  line L121 (-1.0114, 5.7776) -> (-1.0166, 7.0502)
  line L122 (-1.0114, 6.8876) -> (-1.0114, 5.7776)
  arc A85 (4.4151, 6.331) -> (4.9701, 5.7776) centre (4.9701, 6.3326) ccw
  line L123 (4.4151, 6.331) -> (4.4151, 6.3335)
  arc A86 (4.4168, 6.3759) -> (4.4151, 6.3335) centre (4.9701, 6.3326) ccw
  arc A87 (4.4168, 6.3759) -> (4.2673, 6.5376) centre (4.2673, 6.3876) ccw
  line L124 (4.9701, 6.7426) -> (4.3774, 6.7426)
  point P0 (0, 0)
  point P1 (-3.0052, 8.0476)
  point P2 (-3.0052, 5.0276)
  point P3 (4.9701, 8.0476)
  point P4 (0.4512, 3.5359)
  point P5 (-1.5427, 3.5359)
  point P6 (-3.5365, 3.5359)
  point P7 (-3.0052, 2.7576)
  point P8 (2.445, 3.5359)
  point P9 (-1.7142, 6.5376)
  point P10 (-1.0166, 5.7776)
  point P11 (-1.0104, 5.7776)
  point P12 (0.9772, 5.7776)
  point P13 (0.9834, 5.7776)
  point P14 (2.9711, 5.7776)
  point P15 (2.4213, 6.3335)
  point P16 (2.9772, 5.7776)
  point P17 (4.2673, 6.5376)
  point P18 (3.6761, 6.5376)
  point P19 (2.9772, 4.2776)
  point P20 (-3.0052, 4.2776)
  point P21 (-1.0166, 4.2776)
  point P22 (2.4213, 3.7217)
  point P23 (2.9711, 4.2776)
  point P24 (0.9834, 4.2776)
  point P25 (0.4275, 3.7217)
  point P26 (0.9772, 4.2776)
  point P27 (-1.0104, 4.2776)
  dimension "d0" = 1.5
  dimension "d10" = 0.41
extrude "Выдавливание1" add sketch "Эскиз1" along normal blind 4.75 contours L2 L3 L1 L0 | A87 A86 A85 L4 A83 L120 A84 L92 | L5 L8 L7 L4 | L5 L6 L7 L8 | L97 A82 A80 L116 A79 L4 A78 L115 A81 | A39 A41 A43 L38 A37 L59 A38 L6 | L83 A72 A69 L106 A71 L4 A74 L109 A73 | L87 A75 A76 L113 A77 L4 A70 L108 A68 | L6 A27 L51 A26 A28 L14 A32 L53 A25 | A31 L61 A30 A40 L30 A42 L64 A29 L6 | L44 L43 L42 L41 | L6 A33 L55 A34 A36 L22 A35 L60 A24
sketch "Эскиз2" plane through (4.9701, 4.2776, 0) normal (1, 0, 0) x (0, 0, -1)
  line L0 (0, -1.52) -> (0, -3.02) projected
  line L1 (-4.75, 3.02) -> (-4.75, 4.52) projected
  line L2 (0, -3.02) -> (-4.75, -3.02)
  line L3 (-4.75, -3.02) -> (-4.75, 4.52)
  line L4 (-4.75, 4.52) -> (0, 4.52)
  line L5 (0, 4.52) -> (0, -3.02)
  point P0 (0, -4.2776)
  point P1 (0, -1.52)
extrude "Выдавливание2" add sketch "Эскиз2" along normal blind 2
sketch "Эскиз3" plane through (0, 0, 4.75) normal (0, 0, 1) x (1, 0, 0)
  line L0 (-3.0052, 1.2576) -> (6.9701, 1.2576) projected
  line L1 (-3.0052, 8.7976) -> (6.9701, 8.7976) projected
  line L2 (6.9701, 1.2576) -> (-3.0052, 1.2576)
  line L3 (-3.0052, 1.2576) -> (-3.0052, 8.7976)
  line L4 (-3.0052, 8.7976) -> (6.9701, 8.7976)
  line L5 (6.9701, 8.7976) -> (6.9701, 1.2576)
  point P0 (0, 0)
  point P1 (-3.0052, 1.2576)
  point P2 (6.9701, 8.7976)
extrude "Выдавливание3" add sketch "Эскиз3" along normal blind 2
ref_plane "РабПлоскость1" through (1.9948, 5.0311, -3.25) normal (0, 0, -1) x (-1, 0, 0)
properties part number "деталь будет крепить ремень"
